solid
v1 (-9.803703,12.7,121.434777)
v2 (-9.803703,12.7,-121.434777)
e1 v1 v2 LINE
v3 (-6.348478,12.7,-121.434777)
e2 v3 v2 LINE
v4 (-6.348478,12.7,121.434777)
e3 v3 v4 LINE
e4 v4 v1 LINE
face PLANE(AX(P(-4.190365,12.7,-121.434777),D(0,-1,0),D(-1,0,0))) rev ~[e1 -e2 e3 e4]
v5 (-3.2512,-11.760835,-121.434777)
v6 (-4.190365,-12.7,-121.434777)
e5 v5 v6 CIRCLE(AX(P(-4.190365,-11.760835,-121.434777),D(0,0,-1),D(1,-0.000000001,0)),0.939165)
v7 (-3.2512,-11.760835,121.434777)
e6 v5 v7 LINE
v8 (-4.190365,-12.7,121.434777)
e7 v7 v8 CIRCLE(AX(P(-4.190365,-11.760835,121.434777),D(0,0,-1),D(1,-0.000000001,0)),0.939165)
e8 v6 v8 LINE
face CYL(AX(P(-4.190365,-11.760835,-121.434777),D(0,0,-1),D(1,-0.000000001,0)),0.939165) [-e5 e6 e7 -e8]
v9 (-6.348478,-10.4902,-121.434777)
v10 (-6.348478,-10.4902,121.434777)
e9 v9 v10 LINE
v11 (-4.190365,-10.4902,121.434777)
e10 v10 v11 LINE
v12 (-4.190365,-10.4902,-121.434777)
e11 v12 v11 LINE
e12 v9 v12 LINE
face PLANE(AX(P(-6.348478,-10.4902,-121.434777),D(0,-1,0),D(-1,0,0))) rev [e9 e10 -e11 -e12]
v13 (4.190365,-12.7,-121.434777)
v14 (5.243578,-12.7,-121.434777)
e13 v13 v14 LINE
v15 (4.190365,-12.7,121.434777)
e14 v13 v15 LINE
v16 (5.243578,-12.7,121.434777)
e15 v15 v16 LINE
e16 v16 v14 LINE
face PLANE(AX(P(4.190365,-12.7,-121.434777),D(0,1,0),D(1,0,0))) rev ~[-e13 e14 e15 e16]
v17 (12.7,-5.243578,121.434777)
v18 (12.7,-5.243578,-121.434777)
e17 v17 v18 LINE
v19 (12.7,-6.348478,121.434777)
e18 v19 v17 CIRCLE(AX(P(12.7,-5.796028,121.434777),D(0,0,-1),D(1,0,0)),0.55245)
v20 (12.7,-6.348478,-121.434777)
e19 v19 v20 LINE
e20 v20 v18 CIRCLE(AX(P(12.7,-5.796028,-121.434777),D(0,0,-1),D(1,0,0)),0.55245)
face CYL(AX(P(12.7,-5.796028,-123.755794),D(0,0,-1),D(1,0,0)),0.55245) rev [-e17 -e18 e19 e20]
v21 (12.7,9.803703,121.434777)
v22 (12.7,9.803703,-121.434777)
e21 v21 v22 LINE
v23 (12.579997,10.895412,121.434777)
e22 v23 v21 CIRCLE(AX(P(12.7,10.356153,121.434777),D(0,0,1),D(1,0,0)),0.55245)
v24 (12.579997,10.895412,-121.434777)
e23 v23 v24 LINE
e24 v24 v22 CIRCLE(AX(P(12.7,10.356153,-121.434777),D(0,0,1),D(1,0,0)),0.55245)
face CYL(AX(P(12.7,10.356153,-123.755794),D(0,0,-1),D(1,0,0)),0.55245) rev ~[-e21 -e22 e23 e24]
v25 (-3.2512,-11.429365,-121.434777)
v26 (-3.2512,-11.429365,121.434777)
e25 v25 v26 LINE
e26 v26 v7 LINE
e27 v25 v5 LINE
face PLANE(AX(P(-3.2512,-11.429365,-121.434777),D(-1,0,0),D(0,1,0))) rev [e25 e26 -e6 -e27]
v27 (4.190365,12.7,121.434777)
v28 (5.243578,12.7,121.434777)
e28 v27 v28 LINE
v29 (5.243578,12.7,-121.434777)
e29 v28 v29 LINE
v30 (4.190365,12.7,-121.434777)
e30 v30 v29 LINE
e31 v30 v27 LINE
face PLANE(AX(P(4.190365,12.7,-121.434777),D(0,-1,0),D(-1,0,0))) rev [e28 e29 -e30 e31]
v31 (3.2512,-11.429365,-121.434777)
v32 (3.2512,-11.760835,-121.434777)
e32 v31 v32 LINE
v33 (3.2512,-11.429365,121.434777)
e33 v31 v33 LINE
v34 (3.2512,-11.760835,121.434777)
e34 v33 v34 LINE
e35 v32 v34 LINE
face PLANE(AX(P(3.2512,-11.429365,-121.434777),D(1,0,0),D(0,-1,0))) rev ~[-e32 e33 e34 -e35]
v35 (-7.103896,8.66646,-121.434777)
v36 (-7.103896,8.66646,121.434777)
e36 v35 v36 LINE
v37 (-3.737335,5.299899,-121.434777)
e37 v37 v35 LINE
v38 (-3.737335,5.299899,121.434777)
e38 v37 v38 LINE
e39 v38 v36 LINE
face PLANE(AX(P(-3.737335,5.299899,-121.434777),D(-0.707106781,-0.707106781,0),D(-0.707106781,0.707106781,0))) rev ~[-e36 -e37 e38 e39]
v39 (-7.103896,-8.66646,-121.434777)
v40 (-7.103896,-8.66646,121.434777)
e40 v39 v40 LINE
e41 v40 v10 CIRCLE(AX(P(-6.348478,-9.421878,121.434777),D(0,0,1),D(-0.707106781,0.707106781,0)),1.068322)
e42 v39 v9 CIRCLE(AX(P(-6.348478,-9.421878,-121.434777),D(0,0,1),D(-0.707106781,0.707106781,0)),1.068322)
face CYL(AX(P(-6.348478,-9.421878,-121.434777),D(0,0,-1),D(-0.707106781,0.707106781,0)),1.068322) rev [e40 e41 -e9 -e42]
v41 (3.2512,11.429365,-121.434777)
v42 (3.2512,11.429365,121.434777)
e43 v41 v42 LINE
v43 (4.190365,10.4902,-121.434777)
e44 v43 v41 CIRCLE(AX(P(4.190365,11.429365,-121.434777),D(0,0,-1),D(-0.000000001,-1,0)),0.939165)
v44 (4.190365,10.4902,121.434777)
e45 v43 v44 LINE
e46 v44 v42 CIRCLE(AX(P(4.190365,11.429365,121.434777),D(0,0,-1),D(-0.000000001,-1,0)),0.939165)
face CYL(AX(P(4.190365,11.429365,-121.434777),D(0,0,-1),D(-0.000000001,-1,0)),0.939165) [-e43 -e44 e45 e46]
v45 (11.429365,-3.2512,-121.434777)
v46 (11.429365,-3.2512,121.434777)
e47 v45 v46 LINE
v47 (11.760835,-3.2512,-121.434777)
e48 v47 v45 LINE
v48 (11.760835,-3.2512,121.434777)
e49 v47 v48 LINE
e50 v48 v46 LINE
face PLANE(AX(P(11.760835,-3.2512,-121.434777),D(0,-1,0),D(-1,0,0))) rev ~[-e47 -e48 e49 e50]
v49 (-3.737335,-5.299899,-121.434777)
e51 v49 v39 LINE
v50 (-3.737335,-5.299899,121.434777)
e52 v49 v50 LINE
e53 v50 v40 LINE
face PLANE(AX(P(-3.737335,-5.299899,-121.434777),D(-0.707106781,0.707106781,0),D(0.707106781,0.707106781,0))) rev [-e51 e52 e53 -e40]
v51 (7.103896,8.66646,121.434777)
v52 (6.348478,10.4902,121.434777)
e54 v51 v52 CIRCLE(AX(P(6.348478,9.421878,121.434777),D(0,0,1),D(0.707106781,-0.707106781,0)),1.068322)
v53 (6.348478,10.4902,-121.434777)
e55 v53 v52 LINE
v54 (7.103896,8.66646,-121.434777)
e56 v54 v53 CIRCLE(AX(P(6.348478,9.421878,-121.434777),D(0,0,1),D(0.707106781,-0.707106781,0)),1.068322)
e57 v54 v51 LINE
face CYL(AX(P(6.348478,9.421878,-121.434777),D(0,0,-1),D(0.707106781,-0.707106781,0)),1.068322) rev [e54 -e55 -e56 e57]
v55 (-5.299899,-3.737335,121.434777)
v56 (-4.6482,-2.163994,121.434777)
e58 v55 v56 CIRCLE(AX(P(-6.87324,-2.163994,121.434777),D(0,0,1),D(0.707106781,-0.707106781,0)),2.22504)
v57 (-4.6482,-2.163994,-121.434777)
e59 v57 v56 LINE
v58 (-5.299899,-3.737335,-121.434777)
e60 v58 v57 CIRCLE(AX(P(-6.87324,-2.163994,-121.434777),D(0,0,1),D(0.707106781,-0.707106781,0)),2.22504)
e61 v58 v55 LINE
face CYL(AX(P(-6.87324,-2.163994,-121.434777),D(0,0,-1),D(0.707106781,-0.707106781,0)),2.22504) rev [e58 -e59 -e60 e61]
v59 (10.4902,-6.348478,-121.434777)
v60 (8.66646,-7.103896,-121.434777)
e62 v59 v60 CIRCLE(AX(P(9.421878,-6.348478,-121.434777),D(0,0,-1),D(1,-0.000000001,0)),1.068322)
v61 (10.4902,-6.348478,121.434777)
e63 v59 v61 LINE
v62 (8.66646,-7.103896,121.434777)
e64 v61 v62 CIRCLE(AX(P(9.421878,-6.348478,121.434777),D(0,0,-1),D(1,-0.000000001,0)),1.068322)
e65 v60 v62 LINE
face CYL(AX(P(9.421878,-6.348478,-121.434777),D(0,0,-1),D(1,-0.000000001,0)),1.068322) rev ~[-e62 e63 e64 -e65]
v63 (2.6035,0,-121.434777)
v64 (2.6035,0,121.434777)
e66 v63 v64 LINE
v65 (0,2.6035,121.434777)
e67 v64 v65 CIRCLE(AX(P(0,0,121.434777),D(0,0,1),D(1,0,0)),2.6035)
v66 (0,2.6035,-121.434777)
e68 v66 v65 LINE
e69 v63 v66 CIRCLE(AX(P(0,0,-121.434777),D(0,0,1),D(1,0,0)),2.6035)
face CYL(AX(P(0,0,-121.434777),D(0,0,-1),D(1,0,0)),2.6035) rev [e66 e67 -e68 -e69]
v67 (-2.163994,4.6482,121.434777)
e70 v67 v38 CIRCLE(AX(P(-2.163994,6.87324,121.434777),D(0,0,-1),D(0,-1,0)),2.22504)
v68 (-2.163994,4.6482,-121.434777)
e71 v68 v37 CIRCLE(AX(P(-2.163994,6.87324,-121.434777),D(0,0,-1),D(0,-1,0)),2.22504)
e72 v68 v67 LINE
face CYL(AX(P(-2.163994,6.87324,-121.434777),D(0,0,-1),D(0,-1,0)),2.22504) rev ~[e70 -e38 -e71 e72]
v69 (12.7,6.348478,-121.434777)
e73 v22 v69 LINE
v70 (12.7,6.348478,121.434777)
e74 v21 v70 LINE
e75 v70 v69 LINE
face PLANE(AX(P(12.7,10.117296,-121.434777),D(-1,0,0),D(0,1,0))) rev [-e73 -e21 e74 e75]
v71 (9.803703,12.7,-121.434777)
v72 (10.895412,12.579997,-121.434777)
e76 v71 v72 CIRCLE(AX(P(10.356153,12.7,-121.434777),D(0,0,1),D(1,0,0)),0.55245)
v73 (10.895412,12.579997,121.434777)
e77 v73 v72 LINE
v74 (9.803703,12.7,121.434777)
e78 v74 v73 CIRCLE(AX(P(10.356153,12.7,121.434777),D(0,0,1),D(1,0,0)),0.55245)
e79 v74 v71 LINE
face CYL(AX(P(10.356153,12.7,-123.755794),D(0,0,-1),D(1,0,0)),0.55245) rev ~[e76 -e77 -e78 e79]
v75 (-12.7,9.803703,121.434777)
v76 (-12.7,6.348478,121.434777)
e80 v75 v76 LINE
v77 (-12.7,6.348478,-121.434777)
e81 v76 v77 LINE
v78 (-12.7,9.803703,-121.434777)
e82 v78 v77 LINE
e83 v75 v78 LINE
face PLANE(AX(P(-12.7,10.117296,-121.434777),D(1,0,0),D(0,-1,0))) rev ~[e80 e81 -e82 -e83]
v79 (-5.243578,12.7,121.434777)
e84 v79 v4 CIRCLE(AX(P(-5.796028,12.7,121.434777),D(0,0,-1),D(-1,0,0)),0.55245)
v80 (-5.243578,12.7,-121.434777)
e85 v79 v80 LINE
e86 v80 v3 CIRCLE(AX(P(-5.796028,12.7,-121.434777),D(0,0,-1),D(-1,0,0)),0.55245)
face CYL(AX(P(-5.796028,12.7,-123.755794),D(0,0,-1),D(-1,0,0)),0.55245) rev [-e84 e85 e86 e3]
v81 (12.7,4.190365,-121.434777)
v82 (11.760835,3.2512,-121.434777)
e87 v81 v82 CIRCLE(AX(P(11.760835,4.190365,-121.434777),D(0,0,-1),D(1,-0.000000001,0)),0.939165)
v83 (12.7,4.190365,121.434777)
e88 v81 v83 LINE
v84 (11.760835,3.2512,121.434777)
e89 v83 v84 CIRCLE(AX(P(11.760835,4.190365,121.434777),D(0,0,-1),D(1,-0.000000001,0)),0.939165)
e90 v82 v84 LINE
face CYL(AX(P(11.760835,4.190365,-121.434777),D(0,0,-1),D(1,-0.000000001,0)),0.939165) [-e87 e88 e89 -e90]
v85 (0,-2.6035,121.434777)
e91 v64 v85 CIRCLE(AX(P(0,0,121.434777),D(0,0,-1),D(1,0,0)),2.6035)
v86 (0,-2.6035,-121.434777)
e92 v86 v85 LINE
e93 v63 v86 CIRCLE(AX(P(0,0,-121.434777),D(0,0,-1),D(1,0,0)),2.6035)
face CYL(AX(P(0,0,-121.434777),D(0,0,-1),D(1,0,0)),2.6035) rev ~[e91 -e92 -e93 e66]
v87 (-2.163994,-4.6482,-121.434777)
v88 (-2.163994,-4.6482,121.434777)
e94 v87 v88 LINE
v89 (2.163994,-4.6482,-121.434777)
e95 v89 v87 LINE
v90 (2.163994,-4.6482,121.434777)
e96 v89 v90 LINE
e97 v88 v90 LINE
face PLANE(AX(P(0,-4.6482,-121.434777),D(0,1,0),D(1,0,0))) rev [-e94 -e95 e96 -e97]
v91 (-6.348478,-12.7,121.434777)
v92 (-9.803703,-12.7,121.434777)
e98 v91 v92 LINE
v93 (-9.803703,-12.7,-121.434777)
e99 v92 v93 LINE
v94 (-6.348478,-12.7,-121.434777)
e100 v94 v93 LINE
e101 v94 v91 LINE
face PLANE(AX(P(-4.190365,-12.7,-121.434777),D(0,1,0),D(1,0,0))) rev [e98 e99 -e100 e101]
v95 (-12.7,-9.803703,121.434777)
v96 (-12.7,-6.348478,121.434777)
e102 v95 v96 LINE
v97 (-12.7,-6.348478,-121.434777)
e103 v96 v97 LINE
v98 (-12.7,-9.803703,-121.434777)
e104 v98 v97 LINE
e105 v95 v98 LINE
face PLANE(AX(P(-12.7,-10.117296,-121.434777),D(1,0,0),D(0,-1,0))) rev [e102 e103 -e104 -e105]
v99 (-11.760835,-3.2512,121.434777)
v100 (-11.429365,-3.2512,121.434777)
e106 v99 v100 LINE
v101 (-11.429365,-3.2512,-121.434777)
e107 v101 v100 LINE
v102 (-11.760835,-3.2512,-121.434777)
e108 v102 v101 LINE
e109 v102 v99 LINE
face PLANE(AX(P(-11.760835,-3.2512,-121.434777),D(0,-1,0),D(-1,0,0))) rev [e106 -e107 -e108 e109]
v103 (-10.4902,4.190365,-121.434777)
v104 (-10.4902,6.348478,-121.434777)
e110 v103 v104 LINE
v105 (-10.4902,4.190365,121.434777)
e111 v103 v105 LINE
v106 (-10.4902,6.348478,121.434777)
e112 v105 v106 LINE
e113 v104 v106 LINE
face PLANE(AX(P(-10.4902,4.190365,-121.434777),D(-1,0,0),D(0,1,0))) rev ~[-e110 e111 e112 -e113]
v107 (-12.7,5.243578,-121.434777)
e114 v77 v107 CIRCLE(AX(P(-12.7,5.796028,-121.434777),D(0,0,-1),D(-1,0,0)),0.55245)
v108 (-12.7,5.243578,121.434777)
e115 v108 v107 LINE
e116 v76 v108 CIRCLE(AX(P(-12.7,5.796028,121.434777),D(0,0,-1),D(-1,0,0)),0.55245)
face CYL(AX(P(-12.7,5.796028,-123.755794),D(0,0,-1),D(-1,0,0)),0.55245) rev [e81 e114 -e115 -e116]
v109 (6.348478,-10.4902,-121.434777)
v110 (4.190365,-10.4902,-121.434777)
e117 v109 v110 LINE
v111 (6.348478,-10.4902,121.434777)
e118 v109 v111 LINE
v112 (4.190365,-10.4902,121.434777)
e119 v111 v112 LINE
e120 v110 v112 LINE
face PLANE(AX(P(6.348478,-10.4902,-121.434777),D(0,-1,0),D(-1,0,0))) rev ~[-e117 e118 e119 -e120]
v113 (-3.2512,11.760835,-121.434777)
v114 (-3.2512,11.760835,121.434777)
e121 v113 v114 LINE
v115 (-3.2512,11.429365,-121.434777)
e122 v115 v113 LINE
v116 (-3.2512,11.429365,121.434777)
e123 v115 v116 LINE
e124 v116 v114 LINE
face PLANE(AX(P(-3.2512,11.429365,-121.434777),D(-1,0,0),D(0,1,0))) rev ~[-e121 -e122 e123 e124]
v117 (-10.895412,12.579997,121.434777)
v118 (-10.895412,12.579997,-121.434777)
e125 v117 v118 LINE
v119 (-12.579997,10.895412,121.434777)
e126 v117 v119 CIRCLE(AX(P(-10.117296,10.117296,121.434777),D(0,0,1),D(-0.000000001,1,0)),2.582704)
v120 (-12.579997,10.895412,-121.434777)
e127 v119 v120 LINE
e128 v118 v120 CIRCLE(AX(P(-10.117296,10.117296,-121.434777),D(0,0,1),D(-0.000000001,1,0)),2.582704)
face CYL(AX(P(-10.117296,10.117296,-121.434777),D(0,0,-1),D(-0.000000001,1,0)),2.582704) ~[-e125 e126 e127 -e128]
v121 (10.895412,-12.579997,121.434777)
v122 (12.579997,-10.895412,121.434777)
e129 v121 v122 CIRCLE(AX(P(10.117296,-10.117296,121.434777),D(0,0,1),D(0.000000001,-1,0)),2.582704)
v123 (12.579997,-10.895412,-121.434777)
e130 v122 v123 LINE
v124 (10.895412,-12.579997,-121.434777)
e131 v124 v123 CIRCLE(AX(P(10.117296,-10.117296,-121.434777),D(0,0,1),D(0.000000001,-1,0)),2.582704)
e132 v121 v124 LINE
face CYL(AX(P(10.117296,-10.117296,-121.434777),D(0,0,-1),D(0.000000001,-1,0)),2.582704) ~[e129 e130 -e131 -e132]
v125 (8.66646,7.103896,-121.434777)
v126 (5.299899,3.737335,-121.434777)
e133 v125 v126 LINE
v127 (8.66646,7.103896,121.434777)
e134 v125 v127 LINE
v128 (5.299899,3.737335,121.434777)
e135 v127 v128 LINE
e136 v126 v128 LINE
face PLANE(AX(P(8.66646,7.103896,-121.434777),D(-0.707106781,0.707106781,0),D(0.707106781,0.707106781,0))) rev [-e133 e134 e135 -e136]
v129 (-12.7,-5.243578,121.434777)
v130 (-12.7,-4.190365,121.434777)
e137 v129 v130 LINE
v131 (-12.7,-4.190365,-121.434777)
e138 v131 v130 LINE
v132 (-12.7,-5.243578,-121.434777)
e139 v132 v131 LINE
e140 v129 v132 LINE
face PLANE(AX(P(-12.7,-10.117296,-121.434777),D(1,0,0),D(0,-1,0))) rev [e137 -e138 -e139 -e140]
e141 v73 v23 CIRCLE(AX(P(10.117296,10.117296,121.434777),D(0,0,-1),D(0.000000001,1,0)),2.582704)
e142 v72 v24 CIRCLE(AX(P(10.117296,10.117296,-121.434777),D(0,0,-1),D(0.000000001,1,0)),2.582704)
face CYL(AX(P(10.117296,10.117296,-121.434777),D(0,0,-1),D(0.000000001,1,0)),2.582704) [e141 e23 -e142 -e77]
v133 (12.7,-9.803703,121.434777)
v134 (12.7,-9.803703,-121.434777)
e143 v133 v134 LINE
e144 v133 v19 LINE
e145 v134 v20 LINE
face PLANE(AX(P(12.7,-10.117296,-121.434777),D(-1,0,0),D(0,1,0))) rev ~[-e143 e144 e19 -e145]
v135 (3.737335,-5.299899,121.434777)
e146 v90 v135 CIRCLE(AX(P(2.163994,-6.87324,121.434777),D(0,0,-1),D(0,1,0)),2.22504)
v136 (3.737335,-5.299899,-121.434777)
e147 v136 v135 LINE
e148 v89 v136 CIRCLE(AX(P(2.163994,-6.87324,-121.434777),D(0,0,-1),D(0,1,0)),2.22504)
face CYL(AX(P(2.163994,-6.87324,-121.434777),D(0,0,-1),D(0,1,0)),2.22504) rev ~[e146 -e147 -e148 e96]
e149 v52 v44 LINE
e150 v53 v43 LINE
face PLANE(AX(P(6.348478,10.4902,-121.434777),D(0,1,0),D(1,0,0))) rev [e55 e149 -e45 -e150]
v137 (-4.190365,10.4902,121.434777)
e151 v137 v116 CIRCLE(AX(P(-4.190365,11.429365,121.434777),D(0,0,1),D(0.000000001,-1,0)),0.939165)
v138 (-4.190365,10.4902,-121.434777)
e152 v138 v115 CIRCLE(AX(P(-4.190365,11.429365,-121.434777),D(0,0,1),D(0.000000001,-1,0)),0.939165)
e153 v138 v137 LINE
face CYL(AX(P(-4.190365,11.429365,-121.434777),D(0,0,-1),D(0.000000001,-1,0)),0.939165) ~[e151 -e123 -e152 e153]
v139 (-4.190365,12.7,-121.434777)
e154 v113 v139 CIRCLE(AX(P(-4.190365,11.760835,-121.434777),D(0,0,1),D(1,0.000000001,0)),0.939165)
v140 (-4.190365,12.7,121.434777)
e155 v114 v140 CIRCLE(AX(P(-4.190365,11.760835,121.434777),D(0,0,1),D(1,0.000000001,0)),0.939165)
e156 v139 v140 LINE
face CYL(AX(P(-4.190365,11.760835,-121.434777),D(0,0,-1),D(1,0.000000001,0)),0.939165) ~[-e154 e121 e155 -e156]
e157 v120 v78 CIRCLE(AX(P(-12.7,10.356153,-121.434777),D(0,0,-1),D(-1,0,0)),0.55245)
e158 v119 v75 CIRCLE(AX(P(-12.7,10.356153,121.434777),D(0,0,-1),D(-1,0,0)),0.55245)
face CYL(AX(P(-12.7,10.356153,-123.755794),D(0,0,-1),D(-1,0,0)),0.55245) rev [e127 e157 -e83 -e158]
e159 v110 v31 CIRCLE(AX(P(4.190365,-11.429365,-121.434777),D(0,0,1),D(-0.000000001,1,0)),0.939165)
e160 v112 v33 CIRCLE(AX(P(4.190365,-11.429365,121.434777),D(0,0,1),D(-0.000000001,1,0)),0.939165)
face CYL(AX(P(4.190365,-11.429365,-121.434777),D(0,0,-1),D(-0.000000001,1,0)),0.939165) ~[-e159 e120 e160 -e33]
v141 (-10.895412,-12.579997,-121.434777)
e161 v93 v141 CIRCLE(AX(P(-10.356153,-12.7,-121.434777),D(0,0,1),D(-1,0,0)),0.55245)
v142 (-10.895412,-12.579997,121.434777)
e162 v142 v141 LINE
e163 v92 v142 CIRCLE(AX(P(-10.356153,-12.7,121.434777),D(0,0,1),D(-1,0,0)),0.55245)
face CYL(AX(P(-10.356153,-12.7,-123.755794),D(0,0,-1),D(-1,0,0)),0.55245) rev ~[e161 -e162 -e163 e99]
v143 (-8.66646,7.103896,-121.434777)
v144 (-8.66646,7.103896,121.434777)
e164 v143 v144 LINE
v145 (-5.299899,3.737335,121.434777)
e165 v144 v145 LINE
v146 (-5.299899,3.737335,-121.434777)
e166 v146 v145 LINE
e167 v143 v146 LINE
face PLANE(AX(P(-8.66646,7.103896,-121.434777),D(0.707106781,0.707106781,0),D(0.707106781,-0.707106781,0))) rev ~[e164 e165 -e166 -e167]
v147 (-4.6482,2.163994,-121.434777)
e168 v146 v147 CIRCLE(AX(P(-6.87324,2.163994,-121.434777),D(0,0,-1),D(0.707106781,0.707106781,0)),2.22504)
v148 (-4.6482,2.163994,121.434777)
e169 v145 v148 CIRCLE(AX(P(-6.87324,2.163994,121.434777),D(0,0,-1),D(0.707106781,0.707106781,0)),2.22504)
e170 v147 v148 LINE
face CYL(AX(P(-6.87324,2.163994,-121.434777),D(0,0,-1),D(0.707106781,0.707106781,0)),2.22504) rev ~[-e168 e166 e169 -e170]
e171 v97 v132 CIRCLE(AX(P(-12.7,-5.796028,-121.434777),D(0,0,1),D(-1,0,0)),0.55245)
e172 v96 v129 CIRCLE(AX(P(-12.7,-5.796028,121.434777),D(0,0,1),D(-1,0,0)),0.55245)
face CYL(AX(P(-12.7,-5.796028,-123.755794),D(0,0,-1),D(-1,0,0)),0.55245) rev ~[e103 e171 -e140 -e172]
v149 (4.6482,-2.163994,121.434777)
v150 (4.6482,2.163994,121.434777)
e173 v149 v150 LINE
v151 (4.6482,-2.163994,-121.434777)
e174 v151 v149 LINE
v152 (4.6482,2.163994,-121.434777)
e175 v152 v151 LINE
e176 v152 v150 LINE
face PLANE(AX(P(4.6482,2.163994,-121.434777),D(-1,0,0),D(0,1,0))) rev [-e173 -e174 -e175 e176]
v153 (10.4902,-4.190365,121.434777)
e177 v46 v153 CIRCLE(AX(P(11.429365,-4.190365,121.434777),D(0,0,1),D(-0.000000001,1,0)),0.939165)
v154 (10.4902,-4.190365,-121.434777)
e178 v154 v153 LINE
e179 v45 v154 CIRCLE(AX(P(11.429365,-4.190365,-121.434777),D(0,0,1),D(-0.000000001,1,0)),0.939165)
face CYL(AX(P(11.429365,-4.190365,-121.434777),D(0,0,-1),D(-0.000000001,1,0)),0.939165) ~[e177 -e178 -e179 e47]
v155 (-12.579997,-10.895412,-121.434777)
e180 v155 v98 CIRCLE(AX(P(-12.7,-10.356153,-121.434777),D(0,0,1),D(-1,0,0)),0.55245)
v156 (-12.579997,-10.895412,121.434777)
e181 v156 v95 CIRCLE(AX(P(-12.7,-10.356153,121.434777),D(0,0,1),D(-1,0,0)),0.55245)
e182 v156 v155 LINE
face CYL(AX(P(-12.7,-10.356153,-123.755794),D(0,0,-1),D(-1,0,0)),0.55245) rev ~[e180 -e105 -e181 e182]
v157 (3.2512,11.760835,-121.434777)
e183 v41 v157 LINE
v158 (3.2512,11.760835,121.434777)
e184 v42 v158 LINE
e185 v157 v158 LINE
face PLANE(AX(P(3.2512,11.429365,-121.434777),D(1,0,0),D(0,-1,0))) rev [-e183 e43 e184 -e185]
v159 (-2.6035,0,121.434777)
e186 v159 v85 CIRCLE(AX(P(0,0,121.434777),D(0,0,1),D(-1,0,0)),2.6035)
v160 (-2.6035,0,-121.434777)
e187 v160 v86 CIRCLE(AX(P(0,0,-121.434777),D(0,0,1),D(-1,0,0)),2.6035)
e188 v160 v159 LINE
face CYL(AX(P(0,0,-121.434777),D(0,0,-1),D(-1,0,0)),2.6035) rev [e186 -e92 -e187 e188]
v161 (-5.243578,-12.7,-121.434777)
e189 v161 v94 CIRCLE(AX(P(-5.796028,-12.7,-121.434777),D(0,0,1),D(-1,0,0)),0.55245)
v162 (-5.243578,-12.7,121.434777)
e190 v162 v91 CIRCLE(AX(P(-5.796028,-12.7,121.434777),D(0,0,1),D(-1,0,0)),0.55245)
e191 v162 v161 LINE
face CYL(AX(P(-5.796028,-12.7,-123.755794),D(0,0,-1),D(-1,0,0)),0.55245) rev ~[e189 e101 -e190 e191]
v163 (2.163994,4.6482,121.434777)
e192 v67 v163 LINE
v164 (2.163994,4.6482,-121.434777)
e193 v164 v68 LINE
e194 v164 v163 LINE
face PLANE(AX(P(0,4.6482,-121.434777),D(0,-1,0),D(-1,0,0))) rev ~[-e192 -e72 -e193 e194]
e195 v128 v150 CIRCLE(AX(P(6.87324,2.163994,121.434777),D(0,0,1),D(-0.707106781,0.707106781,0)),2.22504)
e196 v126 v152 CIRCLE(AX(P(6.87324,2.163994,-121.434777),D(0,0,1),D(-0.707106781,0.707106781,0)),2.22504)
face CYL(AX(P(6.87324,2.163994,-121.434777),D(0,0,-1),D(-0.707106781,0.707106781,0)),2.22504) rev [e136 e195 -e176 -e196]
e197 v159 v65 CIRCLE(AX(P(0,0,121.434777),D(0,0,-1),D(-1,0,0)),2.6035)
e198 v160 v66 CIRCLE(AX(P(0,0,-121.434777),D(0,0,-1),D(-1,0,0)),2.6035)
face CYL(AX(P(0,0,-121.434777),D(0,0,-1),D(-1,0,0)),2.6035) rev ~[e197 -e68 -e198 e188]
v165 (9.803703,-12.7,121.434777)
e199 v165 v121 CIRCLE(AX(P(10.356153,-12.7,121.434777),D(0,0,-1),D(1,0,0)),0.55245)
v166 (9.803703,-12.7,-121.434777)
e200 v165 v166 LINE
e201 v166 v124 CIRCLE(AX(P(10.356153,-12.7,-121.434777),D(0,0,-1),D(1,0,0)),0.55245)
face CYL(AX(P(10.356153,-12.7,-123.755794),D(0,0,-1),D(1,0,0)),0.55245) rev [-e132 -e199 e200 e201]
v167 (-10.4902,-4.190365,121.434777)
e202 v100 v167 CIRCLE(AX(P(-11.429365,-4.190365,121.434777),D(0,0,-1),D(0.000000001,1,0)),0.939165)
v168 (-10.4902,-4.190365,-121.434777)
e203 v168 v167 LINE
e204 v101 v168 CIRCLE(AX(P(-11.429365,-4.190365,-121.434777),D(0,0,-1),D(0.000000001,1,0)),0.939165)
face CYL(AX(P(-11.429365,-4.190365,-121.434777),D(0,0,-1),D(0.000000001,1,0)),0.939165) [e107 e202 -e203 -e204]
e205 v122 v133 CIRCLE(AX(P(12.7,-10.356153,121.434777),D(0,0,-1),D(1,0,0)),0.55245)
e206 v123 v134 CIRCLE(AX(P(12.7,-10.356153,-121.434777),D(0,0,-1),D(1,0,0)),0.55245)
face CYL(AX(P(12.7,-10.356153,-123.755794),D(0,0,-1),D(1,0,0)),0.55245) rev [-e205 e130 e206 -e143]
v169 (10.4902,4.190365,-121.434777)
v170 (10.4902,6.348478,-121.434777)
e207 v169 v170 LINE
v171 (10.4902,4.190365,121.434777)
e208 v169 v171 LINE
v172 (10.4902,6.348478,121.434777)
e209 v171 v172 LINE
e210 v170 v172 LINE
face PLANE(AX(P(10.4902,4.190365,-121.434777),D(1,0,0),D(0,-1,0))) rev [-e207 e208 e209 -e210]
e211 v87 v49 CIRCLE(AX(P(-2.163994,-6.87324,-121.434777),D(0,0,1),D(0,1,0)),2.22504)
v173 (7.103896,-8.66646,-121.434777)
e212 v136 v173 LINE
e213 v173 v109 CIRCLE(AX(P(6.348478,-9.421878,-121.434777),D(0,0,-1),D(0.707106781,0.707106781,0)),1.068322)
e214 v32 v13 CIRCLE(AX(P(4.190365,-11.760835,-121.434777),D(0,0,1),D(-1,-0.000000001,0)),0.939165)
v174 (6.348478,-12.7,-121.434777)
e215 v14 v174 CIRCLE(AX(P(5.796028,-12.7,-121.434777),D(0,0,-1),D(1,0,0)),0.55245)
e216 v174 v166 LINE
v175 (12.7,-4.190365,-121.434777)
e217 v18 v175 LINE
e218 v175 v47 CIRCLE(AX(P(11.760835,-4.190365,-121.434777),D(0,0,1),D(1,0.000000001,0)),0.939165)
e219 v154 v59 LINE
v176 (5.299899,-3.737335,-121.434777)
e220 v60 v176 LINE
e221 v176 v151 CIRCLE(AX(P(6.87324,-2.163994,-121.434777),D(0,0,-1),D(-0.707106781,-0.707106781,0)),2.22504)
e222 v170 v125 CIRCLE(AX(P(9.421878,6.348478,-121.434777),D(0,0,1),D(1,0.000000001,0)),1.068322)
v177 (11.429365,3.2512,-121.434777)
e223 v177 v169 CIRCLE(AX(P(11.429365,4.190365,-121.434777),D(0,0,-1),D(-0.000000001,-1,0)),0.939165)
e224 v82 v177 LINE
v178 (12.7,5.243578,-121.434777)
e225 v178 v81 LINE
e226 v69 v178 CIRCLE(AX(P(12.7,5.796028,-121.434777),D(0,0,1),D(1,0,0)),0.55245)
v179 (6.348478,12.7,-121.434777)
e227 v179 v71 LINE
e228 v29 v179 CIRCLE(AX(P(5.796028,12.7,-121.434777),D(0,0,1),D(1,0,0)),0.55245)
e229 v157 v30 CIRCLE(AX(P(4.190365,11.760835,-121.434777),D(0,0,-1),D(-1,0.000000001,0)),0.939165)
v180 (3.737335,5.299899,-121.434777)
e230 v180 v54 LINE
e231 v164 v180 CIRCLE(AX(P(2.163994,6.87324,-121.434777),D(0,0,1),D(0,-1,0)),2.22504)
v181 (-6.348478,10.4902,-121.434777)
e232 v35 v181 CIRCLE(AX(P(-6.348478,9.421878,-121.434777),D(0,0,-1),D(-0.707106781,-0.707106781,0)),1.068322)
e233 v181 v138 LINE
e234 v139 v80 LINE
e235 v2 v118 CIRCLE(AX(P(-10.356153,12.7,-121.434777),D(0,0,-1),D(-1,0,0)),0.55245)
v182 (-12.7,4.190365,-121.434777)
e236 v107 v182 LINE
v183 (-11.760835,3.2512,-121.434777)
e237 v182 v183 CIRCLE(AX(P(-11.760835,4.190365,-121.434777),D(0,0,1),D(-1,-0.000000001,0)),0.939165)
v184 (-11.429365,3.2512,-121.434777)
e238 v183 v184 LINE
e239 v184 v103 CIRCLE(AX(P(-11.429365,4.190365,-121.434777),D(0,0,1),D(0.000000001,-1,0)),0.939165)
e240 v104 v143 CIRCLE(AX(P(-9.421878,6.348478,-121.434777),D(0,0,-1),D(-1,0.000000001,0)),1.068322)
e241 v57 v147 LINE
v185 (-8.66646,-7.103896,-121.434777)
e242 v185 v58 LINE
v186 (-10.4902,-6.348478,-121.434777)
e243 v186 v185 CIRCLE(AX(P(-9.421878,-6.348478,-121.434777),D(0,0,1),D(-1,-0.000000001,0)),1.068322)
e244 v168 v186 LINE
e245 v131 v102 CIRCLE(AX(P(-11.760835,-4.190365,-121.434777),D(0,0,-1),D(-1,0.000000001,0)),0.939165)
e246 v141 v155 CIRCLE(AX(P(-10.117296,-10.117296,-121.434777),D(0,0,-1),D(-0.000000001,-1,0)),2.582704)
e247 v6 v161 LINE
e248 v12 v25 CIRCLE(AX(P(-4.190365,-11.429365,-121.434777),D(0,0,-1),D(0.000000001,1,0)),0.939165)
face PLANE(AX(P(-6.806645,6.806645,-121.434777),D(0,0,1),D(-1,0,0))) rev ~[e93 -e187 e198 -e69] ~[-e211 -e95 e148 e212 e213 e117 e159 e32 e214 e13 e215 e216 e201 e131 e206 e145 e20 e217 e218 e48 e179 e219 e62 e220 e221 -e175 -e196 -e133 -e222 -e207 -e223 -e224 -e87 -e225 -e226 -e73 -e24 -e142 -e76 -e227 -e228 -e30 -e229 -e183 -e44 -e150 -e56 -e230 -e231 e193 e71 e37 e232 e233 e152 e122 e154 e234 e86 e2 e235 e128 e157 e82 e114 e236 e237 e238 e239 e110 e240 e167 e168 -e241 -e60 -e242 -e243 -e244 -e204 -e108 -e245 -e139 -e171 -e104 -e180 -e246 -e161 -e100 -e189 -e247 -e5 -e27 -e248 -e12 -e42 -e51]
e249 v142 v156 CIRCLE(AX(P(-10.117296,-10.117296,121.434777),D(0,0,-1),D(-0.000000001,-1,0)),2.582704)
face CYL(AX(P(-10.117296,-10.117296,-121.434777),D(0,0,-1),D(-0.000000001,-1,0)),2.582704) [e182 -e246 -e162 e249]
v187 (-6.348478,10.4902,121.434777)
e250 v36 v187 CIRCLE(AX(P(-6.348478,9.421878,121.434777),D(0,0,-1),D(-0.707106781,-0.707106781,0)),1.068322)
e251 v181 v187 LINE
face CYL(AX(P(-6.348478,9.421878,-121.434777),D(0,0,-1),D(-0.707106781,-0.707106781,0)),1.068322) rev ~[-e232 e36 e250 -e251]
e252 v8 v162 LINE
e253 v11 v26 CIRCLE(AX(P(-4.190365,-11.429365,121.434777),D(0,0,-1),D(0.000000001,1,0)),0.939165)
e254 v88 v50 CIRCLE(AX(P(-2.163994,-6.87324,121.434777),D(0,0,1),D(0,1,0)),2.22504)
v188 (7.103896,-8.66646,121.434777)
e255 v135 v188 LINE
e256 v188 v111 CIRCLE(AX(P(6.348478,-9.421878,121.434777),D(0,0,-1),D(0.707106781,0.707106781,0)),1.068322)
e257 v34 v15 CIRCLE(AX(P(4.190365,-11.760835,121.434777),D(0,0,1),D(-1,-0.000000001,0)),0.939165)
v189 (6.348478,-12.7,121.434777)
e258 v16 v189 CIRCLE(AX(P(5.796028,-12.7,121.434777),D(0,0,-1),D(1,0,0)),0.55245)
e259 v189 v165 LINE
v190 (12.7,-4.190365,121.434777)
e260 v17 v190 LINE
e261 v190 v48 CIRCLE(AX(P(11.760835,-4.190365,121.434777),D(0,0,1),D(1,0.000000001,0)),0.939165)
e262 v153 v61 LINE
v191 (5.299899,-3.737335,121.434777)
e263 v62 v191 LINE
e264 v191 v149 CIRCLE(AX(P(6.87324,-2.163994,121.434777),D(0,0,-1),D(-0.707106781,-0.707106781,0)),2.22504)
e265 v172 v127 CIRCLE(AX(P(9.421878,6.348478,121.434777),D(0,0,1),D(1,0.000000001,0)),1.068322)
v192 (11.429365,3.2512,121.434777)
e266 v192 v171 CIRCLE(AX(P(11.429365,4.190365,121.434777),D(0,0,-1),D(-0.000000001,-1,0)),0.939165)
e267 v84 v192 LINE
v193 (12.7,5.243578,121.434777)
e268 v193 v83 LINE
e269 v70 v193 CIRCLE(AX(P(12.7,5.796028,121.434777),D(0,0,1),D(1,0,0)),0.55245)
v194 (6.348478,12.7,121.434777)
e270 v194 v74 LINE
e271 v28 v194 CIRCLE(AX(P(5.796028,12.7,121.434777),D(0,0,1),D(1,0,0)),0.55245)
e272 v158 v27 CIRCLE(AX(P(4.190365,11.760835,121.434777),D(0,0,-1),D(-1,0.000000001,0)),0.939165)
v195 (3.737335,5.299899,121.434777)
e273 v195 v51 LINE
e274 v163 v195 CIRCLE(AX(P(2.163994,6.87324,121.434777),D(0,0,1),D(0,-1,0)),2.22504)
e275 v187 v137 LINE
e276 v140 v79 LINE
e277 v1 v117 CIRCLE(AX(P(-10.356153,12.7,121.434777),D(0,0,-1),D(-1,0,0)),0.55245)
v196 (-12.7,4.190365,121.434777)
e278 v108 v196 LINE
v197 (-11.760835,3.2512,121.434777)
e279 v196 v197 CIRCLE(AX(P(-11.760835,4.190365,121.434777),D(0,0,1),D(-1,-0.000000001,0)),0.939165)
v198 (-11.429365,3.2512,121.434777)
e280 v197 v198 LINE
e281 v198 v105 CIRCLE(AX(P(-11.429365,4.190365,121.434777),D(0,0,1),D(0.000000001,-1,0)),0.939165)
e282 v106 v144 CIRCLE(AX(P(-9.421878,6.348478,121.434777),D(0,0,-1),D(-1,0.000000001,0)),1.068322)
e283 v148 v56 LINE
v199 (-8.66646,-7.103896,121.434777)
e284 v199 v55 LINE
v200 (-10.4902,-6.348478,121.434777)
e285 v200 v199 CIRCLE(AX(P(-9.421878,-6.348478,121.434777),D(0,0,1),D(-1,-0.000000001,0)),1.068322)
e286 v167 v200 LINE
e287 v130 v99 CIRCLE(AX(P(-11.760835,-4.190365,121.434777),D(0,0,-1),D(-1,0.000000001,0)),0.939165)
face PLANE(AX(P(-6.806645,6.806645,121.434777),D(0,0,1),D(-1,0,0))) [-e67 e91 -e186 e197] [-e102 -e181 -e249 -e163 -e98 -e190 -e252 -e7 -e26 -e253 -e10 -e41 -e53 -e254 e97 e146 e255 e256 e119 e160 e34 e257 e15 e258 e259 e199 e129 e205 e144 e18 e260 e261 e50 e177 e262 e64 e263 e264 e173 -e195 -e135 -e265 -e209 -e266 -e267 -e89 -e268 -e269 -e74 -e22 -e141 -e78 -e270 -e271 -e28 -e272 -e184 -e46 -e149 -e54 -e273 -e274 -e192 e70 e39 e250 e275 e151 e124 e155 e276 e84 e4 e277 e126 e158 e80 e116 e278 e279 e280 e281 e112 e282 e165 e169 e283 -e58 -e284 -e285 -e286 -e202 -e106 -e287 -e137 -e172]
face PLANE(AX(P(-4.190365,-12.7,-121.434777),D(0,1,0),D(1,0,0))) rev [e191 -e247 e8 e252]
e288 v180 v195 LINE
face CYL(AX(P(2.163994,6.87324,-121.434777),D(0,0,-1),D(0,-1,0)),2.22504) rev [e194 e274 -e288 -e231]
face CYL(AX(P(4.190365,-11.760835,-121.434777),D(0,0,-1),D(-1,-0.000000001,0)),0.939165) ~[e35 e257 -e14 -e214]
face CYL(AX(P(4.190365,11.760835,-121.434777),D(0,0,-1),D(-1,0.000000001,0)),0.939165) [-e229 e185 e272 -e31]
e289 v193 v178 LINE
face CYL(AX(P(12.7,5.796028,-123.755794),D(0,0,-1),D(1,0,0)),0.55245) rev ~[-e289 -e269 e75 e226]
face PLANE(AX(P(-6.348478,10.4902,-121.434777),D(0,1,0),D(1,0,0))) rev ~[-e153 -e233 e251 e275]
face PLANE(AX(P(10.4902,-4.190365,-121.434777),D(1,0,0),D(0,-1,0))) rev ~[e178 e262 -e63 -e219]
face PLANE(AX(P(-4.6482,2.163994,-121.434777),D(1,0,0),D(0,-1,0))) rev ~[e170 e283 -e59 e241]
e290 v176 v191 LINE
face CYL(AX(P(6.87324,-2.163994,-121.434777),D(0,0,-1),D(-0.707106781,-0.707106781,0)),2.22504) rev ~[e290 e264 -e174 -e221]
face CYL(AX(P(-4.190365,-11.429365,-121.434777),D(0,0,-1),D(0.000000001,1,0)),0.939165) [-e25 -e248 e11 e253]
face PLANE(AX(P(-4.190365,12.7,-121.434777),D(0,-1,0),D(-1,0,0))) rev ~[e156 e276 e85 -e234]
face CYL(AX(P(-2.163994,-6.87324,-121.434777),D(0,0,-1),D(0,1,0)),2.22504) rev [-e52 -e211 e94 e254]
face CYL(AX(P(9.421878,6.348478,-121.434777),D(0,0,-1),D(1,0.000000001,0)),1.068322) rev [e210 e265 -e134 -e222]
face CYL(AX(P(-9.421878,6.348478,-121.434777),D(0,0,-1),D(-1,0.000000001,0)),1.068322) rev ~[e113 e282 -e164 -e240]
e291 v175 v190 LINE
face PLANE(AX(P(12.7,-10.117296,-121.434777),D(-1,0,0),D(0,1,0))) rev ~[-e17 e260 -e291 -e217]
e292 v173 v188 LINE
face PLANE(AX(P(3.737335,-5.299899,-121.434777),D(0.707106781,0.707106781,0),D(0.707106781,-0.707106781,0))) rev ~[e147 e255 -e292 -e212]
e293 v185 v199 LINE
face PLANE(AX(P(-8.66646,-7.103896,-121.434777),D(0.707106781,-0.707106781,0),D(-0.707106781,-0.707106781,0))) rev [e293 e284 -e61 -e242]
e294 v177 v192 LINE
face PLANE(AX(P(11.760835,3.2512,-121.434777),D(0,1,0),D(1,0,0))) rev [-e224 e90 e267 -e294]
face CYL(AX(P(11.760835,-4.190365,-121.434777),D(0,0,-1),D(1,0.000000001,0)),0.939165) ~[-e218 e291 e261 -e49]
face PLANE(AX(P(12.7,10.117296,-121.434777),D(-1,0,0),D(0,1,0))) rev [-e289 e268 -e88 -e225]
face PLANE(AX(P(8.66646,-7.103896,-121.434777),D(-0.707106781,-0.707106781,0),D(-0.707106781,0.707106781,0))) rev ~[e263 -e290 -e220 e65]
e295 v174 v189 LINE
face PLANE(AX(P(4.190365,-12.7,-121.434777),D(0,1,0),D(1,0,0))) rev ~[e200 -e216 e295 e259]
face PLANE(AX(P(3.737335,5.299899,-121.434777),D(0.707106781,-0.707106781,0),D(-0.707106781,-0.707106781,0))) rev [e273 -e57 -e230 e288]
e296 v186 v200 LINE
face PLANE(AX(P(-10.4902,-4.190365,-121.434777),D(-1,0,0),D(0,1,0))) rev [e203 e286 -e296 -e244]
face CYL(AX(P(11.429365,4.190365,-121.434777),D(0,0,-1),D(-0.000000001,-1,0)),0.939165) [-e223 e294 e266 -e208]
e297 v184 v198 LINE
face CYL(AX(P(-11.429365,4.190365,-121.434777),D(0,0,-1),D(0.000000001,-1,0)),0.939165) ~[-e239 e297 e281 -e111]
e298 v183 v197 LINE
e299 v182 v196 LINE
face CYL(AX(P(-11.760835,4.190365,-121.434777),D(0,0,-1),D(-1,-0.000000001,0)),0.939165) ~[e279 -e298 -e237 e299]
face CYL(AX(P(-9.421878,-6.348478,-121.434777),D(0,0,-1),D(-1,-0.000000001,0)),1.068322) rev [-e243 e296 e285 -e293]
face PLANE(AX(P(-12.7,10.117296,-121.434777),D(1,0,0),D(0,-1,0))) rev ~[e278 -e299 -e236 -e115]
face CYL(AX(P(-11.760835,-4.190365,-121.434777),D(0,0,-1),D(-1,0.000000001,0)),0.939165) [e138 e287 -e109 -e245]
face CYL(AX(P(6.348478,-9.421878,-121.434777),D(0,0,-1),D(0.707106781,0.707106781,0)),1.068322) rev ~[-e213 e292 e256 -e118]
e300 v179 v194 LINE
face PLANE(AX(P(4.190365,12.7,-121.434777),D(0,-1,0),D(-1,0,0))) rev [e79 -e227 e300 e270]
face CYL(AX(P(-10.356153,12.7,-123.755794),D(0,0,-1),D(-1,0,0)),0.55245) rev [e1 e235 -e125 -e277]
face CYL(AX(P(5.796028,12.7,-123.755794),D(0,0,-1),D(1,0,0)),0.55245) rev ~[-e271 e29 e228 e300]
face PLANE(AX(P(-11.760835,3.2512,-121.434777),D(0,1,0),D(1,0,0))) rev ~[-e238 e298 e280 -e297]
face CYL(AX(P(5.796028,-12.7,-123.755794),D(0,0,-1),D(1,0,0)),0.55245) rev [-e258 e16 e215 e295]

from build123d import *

# Parameters (mm, degrees)
BOSS_EXTRUDE1_START     = -121.434777
BOSS_EXTRUDE1_DEPTH     = 242.869554
CUT_EXTRUDE1_DEPTH      = 123.755794426
CUT_EXTRUDE1_DEPTH_BACK = 123.755794426
SKETCH5_R               = 0.55245


with BuildPart() as part:
    # Sketch4 → Boss-Extrude1 (new body)
    with BuildSketch(Plane.XY.offset(BOSS_EXTRUDE1_START)):
        with BuildLine():
            Line((4.190365, -12.7), (10.11729625, -12.7))
            ThreePointArc((10.11729625, -12.7), (11.943543585, -11.943543585), (12.7, -10.11729625))
            Line((12.7, -10.11729625), (12.7, -4.190365))
            ThreePointArc((12.7, -4.190365), (12.42492494, -3.52627506), (11.760835, -3.2512))
            Line((11.760835, -3.2512), (11.429365, -3.2512))
            ThreePointArc((11.429365, -3.2512), (10.76527506, -3.52627506), (10.4902, -4.190365))
            Line((10.4902, -4.190365), (10.4902, -6.348478019))
            ThreePointArc((10.4902, -6.348478019), (9.830707141, -7.335478831), (8.666460301, -7.103895736))
            Line((8.666460301, -7.103895736), (5.299899128, -3.737334563))
            ThreePointArc((5.299899128, -3.737334563), (4.817571085, -3.015479634), (4.6482, -2.16399369))
            Line((4.6482, -2.16399369), (4.6482, 0))
            Line((4.6482, 0), (2.6035, 0))
            ThreePointArc((2.6035, 0), (1.840952505, -1.840952505), (0, -2.6035))
            Line((0, -2.6035), (0, -4.6482))
            Line((0, -4.6482), (2.16399369, -4.6482))
            ThreePointArc((2.16399369, -4.6482), (3.015479634, -4.817571085), (3.737334563, -5.299899128))
            Line((3.737334563, -5.299899128), (7.103895736, -8.666460301))
            ThreePointArc((7.103895736, -8.666460301), (7.335478831, -9.830707141), (6.348478019, -10.4902))
            Line((6.348478019, -10.4902), (4.190365, -10.4902))
            ThreePointArc((4.190365, -10.4902), (3.52627506, -10.76527506), (3.2512, -11.429365))
            Line((3.2512, -11.429365), (3.2512, -11.760835))
            ThreePointArc((3.2512, -11.760835), (3.52627506, -12.42492494), (4.190365, -12.7))
        make_face()
    extrude(amount=BOSS_EXTRUDE1_DEPTH)

    # Sketch5 → Cut-Extrude1 (cut, two sides: drawn at the far end of the back side and taken through both)
    with BuildSketch(Plane.XY.offset(-CUT_EXTRUDE1_DEPTH_BACK)):
        with Locations((10.356153152, -12.7)):
            Circle(SKETCH5_R)
        with Locations((5.796028019, -12.7)):
            Circle(SKETCH5_R)
        with Locations((12.7, -10.356153152)):
            Circle(SKETCH5_R)
        with Locations((12.7, -5.796028019)):
            Circle(SKETCH5_R)
    extrude(amount=CUT_EXTRUDE1_DEPTH + CUT_EXTRUDE1_DEPTH_BACK, mode=Mode.SUBTRACT)

    # Mirror1: part across plane


with BuildPart() as part_1:
    add(part.part)
    add(part.part.mirror(Plane(origin=(0, 0, 0), x_dir=(0, 0, 1), z_dir=(1, 0, 0))))

    # Mirror2: part across plane


with BuildPart() as part_2:
    add(part_1.part)
    add(part_1.part.mirror(Plane.ZX))


solid = part_2.part
